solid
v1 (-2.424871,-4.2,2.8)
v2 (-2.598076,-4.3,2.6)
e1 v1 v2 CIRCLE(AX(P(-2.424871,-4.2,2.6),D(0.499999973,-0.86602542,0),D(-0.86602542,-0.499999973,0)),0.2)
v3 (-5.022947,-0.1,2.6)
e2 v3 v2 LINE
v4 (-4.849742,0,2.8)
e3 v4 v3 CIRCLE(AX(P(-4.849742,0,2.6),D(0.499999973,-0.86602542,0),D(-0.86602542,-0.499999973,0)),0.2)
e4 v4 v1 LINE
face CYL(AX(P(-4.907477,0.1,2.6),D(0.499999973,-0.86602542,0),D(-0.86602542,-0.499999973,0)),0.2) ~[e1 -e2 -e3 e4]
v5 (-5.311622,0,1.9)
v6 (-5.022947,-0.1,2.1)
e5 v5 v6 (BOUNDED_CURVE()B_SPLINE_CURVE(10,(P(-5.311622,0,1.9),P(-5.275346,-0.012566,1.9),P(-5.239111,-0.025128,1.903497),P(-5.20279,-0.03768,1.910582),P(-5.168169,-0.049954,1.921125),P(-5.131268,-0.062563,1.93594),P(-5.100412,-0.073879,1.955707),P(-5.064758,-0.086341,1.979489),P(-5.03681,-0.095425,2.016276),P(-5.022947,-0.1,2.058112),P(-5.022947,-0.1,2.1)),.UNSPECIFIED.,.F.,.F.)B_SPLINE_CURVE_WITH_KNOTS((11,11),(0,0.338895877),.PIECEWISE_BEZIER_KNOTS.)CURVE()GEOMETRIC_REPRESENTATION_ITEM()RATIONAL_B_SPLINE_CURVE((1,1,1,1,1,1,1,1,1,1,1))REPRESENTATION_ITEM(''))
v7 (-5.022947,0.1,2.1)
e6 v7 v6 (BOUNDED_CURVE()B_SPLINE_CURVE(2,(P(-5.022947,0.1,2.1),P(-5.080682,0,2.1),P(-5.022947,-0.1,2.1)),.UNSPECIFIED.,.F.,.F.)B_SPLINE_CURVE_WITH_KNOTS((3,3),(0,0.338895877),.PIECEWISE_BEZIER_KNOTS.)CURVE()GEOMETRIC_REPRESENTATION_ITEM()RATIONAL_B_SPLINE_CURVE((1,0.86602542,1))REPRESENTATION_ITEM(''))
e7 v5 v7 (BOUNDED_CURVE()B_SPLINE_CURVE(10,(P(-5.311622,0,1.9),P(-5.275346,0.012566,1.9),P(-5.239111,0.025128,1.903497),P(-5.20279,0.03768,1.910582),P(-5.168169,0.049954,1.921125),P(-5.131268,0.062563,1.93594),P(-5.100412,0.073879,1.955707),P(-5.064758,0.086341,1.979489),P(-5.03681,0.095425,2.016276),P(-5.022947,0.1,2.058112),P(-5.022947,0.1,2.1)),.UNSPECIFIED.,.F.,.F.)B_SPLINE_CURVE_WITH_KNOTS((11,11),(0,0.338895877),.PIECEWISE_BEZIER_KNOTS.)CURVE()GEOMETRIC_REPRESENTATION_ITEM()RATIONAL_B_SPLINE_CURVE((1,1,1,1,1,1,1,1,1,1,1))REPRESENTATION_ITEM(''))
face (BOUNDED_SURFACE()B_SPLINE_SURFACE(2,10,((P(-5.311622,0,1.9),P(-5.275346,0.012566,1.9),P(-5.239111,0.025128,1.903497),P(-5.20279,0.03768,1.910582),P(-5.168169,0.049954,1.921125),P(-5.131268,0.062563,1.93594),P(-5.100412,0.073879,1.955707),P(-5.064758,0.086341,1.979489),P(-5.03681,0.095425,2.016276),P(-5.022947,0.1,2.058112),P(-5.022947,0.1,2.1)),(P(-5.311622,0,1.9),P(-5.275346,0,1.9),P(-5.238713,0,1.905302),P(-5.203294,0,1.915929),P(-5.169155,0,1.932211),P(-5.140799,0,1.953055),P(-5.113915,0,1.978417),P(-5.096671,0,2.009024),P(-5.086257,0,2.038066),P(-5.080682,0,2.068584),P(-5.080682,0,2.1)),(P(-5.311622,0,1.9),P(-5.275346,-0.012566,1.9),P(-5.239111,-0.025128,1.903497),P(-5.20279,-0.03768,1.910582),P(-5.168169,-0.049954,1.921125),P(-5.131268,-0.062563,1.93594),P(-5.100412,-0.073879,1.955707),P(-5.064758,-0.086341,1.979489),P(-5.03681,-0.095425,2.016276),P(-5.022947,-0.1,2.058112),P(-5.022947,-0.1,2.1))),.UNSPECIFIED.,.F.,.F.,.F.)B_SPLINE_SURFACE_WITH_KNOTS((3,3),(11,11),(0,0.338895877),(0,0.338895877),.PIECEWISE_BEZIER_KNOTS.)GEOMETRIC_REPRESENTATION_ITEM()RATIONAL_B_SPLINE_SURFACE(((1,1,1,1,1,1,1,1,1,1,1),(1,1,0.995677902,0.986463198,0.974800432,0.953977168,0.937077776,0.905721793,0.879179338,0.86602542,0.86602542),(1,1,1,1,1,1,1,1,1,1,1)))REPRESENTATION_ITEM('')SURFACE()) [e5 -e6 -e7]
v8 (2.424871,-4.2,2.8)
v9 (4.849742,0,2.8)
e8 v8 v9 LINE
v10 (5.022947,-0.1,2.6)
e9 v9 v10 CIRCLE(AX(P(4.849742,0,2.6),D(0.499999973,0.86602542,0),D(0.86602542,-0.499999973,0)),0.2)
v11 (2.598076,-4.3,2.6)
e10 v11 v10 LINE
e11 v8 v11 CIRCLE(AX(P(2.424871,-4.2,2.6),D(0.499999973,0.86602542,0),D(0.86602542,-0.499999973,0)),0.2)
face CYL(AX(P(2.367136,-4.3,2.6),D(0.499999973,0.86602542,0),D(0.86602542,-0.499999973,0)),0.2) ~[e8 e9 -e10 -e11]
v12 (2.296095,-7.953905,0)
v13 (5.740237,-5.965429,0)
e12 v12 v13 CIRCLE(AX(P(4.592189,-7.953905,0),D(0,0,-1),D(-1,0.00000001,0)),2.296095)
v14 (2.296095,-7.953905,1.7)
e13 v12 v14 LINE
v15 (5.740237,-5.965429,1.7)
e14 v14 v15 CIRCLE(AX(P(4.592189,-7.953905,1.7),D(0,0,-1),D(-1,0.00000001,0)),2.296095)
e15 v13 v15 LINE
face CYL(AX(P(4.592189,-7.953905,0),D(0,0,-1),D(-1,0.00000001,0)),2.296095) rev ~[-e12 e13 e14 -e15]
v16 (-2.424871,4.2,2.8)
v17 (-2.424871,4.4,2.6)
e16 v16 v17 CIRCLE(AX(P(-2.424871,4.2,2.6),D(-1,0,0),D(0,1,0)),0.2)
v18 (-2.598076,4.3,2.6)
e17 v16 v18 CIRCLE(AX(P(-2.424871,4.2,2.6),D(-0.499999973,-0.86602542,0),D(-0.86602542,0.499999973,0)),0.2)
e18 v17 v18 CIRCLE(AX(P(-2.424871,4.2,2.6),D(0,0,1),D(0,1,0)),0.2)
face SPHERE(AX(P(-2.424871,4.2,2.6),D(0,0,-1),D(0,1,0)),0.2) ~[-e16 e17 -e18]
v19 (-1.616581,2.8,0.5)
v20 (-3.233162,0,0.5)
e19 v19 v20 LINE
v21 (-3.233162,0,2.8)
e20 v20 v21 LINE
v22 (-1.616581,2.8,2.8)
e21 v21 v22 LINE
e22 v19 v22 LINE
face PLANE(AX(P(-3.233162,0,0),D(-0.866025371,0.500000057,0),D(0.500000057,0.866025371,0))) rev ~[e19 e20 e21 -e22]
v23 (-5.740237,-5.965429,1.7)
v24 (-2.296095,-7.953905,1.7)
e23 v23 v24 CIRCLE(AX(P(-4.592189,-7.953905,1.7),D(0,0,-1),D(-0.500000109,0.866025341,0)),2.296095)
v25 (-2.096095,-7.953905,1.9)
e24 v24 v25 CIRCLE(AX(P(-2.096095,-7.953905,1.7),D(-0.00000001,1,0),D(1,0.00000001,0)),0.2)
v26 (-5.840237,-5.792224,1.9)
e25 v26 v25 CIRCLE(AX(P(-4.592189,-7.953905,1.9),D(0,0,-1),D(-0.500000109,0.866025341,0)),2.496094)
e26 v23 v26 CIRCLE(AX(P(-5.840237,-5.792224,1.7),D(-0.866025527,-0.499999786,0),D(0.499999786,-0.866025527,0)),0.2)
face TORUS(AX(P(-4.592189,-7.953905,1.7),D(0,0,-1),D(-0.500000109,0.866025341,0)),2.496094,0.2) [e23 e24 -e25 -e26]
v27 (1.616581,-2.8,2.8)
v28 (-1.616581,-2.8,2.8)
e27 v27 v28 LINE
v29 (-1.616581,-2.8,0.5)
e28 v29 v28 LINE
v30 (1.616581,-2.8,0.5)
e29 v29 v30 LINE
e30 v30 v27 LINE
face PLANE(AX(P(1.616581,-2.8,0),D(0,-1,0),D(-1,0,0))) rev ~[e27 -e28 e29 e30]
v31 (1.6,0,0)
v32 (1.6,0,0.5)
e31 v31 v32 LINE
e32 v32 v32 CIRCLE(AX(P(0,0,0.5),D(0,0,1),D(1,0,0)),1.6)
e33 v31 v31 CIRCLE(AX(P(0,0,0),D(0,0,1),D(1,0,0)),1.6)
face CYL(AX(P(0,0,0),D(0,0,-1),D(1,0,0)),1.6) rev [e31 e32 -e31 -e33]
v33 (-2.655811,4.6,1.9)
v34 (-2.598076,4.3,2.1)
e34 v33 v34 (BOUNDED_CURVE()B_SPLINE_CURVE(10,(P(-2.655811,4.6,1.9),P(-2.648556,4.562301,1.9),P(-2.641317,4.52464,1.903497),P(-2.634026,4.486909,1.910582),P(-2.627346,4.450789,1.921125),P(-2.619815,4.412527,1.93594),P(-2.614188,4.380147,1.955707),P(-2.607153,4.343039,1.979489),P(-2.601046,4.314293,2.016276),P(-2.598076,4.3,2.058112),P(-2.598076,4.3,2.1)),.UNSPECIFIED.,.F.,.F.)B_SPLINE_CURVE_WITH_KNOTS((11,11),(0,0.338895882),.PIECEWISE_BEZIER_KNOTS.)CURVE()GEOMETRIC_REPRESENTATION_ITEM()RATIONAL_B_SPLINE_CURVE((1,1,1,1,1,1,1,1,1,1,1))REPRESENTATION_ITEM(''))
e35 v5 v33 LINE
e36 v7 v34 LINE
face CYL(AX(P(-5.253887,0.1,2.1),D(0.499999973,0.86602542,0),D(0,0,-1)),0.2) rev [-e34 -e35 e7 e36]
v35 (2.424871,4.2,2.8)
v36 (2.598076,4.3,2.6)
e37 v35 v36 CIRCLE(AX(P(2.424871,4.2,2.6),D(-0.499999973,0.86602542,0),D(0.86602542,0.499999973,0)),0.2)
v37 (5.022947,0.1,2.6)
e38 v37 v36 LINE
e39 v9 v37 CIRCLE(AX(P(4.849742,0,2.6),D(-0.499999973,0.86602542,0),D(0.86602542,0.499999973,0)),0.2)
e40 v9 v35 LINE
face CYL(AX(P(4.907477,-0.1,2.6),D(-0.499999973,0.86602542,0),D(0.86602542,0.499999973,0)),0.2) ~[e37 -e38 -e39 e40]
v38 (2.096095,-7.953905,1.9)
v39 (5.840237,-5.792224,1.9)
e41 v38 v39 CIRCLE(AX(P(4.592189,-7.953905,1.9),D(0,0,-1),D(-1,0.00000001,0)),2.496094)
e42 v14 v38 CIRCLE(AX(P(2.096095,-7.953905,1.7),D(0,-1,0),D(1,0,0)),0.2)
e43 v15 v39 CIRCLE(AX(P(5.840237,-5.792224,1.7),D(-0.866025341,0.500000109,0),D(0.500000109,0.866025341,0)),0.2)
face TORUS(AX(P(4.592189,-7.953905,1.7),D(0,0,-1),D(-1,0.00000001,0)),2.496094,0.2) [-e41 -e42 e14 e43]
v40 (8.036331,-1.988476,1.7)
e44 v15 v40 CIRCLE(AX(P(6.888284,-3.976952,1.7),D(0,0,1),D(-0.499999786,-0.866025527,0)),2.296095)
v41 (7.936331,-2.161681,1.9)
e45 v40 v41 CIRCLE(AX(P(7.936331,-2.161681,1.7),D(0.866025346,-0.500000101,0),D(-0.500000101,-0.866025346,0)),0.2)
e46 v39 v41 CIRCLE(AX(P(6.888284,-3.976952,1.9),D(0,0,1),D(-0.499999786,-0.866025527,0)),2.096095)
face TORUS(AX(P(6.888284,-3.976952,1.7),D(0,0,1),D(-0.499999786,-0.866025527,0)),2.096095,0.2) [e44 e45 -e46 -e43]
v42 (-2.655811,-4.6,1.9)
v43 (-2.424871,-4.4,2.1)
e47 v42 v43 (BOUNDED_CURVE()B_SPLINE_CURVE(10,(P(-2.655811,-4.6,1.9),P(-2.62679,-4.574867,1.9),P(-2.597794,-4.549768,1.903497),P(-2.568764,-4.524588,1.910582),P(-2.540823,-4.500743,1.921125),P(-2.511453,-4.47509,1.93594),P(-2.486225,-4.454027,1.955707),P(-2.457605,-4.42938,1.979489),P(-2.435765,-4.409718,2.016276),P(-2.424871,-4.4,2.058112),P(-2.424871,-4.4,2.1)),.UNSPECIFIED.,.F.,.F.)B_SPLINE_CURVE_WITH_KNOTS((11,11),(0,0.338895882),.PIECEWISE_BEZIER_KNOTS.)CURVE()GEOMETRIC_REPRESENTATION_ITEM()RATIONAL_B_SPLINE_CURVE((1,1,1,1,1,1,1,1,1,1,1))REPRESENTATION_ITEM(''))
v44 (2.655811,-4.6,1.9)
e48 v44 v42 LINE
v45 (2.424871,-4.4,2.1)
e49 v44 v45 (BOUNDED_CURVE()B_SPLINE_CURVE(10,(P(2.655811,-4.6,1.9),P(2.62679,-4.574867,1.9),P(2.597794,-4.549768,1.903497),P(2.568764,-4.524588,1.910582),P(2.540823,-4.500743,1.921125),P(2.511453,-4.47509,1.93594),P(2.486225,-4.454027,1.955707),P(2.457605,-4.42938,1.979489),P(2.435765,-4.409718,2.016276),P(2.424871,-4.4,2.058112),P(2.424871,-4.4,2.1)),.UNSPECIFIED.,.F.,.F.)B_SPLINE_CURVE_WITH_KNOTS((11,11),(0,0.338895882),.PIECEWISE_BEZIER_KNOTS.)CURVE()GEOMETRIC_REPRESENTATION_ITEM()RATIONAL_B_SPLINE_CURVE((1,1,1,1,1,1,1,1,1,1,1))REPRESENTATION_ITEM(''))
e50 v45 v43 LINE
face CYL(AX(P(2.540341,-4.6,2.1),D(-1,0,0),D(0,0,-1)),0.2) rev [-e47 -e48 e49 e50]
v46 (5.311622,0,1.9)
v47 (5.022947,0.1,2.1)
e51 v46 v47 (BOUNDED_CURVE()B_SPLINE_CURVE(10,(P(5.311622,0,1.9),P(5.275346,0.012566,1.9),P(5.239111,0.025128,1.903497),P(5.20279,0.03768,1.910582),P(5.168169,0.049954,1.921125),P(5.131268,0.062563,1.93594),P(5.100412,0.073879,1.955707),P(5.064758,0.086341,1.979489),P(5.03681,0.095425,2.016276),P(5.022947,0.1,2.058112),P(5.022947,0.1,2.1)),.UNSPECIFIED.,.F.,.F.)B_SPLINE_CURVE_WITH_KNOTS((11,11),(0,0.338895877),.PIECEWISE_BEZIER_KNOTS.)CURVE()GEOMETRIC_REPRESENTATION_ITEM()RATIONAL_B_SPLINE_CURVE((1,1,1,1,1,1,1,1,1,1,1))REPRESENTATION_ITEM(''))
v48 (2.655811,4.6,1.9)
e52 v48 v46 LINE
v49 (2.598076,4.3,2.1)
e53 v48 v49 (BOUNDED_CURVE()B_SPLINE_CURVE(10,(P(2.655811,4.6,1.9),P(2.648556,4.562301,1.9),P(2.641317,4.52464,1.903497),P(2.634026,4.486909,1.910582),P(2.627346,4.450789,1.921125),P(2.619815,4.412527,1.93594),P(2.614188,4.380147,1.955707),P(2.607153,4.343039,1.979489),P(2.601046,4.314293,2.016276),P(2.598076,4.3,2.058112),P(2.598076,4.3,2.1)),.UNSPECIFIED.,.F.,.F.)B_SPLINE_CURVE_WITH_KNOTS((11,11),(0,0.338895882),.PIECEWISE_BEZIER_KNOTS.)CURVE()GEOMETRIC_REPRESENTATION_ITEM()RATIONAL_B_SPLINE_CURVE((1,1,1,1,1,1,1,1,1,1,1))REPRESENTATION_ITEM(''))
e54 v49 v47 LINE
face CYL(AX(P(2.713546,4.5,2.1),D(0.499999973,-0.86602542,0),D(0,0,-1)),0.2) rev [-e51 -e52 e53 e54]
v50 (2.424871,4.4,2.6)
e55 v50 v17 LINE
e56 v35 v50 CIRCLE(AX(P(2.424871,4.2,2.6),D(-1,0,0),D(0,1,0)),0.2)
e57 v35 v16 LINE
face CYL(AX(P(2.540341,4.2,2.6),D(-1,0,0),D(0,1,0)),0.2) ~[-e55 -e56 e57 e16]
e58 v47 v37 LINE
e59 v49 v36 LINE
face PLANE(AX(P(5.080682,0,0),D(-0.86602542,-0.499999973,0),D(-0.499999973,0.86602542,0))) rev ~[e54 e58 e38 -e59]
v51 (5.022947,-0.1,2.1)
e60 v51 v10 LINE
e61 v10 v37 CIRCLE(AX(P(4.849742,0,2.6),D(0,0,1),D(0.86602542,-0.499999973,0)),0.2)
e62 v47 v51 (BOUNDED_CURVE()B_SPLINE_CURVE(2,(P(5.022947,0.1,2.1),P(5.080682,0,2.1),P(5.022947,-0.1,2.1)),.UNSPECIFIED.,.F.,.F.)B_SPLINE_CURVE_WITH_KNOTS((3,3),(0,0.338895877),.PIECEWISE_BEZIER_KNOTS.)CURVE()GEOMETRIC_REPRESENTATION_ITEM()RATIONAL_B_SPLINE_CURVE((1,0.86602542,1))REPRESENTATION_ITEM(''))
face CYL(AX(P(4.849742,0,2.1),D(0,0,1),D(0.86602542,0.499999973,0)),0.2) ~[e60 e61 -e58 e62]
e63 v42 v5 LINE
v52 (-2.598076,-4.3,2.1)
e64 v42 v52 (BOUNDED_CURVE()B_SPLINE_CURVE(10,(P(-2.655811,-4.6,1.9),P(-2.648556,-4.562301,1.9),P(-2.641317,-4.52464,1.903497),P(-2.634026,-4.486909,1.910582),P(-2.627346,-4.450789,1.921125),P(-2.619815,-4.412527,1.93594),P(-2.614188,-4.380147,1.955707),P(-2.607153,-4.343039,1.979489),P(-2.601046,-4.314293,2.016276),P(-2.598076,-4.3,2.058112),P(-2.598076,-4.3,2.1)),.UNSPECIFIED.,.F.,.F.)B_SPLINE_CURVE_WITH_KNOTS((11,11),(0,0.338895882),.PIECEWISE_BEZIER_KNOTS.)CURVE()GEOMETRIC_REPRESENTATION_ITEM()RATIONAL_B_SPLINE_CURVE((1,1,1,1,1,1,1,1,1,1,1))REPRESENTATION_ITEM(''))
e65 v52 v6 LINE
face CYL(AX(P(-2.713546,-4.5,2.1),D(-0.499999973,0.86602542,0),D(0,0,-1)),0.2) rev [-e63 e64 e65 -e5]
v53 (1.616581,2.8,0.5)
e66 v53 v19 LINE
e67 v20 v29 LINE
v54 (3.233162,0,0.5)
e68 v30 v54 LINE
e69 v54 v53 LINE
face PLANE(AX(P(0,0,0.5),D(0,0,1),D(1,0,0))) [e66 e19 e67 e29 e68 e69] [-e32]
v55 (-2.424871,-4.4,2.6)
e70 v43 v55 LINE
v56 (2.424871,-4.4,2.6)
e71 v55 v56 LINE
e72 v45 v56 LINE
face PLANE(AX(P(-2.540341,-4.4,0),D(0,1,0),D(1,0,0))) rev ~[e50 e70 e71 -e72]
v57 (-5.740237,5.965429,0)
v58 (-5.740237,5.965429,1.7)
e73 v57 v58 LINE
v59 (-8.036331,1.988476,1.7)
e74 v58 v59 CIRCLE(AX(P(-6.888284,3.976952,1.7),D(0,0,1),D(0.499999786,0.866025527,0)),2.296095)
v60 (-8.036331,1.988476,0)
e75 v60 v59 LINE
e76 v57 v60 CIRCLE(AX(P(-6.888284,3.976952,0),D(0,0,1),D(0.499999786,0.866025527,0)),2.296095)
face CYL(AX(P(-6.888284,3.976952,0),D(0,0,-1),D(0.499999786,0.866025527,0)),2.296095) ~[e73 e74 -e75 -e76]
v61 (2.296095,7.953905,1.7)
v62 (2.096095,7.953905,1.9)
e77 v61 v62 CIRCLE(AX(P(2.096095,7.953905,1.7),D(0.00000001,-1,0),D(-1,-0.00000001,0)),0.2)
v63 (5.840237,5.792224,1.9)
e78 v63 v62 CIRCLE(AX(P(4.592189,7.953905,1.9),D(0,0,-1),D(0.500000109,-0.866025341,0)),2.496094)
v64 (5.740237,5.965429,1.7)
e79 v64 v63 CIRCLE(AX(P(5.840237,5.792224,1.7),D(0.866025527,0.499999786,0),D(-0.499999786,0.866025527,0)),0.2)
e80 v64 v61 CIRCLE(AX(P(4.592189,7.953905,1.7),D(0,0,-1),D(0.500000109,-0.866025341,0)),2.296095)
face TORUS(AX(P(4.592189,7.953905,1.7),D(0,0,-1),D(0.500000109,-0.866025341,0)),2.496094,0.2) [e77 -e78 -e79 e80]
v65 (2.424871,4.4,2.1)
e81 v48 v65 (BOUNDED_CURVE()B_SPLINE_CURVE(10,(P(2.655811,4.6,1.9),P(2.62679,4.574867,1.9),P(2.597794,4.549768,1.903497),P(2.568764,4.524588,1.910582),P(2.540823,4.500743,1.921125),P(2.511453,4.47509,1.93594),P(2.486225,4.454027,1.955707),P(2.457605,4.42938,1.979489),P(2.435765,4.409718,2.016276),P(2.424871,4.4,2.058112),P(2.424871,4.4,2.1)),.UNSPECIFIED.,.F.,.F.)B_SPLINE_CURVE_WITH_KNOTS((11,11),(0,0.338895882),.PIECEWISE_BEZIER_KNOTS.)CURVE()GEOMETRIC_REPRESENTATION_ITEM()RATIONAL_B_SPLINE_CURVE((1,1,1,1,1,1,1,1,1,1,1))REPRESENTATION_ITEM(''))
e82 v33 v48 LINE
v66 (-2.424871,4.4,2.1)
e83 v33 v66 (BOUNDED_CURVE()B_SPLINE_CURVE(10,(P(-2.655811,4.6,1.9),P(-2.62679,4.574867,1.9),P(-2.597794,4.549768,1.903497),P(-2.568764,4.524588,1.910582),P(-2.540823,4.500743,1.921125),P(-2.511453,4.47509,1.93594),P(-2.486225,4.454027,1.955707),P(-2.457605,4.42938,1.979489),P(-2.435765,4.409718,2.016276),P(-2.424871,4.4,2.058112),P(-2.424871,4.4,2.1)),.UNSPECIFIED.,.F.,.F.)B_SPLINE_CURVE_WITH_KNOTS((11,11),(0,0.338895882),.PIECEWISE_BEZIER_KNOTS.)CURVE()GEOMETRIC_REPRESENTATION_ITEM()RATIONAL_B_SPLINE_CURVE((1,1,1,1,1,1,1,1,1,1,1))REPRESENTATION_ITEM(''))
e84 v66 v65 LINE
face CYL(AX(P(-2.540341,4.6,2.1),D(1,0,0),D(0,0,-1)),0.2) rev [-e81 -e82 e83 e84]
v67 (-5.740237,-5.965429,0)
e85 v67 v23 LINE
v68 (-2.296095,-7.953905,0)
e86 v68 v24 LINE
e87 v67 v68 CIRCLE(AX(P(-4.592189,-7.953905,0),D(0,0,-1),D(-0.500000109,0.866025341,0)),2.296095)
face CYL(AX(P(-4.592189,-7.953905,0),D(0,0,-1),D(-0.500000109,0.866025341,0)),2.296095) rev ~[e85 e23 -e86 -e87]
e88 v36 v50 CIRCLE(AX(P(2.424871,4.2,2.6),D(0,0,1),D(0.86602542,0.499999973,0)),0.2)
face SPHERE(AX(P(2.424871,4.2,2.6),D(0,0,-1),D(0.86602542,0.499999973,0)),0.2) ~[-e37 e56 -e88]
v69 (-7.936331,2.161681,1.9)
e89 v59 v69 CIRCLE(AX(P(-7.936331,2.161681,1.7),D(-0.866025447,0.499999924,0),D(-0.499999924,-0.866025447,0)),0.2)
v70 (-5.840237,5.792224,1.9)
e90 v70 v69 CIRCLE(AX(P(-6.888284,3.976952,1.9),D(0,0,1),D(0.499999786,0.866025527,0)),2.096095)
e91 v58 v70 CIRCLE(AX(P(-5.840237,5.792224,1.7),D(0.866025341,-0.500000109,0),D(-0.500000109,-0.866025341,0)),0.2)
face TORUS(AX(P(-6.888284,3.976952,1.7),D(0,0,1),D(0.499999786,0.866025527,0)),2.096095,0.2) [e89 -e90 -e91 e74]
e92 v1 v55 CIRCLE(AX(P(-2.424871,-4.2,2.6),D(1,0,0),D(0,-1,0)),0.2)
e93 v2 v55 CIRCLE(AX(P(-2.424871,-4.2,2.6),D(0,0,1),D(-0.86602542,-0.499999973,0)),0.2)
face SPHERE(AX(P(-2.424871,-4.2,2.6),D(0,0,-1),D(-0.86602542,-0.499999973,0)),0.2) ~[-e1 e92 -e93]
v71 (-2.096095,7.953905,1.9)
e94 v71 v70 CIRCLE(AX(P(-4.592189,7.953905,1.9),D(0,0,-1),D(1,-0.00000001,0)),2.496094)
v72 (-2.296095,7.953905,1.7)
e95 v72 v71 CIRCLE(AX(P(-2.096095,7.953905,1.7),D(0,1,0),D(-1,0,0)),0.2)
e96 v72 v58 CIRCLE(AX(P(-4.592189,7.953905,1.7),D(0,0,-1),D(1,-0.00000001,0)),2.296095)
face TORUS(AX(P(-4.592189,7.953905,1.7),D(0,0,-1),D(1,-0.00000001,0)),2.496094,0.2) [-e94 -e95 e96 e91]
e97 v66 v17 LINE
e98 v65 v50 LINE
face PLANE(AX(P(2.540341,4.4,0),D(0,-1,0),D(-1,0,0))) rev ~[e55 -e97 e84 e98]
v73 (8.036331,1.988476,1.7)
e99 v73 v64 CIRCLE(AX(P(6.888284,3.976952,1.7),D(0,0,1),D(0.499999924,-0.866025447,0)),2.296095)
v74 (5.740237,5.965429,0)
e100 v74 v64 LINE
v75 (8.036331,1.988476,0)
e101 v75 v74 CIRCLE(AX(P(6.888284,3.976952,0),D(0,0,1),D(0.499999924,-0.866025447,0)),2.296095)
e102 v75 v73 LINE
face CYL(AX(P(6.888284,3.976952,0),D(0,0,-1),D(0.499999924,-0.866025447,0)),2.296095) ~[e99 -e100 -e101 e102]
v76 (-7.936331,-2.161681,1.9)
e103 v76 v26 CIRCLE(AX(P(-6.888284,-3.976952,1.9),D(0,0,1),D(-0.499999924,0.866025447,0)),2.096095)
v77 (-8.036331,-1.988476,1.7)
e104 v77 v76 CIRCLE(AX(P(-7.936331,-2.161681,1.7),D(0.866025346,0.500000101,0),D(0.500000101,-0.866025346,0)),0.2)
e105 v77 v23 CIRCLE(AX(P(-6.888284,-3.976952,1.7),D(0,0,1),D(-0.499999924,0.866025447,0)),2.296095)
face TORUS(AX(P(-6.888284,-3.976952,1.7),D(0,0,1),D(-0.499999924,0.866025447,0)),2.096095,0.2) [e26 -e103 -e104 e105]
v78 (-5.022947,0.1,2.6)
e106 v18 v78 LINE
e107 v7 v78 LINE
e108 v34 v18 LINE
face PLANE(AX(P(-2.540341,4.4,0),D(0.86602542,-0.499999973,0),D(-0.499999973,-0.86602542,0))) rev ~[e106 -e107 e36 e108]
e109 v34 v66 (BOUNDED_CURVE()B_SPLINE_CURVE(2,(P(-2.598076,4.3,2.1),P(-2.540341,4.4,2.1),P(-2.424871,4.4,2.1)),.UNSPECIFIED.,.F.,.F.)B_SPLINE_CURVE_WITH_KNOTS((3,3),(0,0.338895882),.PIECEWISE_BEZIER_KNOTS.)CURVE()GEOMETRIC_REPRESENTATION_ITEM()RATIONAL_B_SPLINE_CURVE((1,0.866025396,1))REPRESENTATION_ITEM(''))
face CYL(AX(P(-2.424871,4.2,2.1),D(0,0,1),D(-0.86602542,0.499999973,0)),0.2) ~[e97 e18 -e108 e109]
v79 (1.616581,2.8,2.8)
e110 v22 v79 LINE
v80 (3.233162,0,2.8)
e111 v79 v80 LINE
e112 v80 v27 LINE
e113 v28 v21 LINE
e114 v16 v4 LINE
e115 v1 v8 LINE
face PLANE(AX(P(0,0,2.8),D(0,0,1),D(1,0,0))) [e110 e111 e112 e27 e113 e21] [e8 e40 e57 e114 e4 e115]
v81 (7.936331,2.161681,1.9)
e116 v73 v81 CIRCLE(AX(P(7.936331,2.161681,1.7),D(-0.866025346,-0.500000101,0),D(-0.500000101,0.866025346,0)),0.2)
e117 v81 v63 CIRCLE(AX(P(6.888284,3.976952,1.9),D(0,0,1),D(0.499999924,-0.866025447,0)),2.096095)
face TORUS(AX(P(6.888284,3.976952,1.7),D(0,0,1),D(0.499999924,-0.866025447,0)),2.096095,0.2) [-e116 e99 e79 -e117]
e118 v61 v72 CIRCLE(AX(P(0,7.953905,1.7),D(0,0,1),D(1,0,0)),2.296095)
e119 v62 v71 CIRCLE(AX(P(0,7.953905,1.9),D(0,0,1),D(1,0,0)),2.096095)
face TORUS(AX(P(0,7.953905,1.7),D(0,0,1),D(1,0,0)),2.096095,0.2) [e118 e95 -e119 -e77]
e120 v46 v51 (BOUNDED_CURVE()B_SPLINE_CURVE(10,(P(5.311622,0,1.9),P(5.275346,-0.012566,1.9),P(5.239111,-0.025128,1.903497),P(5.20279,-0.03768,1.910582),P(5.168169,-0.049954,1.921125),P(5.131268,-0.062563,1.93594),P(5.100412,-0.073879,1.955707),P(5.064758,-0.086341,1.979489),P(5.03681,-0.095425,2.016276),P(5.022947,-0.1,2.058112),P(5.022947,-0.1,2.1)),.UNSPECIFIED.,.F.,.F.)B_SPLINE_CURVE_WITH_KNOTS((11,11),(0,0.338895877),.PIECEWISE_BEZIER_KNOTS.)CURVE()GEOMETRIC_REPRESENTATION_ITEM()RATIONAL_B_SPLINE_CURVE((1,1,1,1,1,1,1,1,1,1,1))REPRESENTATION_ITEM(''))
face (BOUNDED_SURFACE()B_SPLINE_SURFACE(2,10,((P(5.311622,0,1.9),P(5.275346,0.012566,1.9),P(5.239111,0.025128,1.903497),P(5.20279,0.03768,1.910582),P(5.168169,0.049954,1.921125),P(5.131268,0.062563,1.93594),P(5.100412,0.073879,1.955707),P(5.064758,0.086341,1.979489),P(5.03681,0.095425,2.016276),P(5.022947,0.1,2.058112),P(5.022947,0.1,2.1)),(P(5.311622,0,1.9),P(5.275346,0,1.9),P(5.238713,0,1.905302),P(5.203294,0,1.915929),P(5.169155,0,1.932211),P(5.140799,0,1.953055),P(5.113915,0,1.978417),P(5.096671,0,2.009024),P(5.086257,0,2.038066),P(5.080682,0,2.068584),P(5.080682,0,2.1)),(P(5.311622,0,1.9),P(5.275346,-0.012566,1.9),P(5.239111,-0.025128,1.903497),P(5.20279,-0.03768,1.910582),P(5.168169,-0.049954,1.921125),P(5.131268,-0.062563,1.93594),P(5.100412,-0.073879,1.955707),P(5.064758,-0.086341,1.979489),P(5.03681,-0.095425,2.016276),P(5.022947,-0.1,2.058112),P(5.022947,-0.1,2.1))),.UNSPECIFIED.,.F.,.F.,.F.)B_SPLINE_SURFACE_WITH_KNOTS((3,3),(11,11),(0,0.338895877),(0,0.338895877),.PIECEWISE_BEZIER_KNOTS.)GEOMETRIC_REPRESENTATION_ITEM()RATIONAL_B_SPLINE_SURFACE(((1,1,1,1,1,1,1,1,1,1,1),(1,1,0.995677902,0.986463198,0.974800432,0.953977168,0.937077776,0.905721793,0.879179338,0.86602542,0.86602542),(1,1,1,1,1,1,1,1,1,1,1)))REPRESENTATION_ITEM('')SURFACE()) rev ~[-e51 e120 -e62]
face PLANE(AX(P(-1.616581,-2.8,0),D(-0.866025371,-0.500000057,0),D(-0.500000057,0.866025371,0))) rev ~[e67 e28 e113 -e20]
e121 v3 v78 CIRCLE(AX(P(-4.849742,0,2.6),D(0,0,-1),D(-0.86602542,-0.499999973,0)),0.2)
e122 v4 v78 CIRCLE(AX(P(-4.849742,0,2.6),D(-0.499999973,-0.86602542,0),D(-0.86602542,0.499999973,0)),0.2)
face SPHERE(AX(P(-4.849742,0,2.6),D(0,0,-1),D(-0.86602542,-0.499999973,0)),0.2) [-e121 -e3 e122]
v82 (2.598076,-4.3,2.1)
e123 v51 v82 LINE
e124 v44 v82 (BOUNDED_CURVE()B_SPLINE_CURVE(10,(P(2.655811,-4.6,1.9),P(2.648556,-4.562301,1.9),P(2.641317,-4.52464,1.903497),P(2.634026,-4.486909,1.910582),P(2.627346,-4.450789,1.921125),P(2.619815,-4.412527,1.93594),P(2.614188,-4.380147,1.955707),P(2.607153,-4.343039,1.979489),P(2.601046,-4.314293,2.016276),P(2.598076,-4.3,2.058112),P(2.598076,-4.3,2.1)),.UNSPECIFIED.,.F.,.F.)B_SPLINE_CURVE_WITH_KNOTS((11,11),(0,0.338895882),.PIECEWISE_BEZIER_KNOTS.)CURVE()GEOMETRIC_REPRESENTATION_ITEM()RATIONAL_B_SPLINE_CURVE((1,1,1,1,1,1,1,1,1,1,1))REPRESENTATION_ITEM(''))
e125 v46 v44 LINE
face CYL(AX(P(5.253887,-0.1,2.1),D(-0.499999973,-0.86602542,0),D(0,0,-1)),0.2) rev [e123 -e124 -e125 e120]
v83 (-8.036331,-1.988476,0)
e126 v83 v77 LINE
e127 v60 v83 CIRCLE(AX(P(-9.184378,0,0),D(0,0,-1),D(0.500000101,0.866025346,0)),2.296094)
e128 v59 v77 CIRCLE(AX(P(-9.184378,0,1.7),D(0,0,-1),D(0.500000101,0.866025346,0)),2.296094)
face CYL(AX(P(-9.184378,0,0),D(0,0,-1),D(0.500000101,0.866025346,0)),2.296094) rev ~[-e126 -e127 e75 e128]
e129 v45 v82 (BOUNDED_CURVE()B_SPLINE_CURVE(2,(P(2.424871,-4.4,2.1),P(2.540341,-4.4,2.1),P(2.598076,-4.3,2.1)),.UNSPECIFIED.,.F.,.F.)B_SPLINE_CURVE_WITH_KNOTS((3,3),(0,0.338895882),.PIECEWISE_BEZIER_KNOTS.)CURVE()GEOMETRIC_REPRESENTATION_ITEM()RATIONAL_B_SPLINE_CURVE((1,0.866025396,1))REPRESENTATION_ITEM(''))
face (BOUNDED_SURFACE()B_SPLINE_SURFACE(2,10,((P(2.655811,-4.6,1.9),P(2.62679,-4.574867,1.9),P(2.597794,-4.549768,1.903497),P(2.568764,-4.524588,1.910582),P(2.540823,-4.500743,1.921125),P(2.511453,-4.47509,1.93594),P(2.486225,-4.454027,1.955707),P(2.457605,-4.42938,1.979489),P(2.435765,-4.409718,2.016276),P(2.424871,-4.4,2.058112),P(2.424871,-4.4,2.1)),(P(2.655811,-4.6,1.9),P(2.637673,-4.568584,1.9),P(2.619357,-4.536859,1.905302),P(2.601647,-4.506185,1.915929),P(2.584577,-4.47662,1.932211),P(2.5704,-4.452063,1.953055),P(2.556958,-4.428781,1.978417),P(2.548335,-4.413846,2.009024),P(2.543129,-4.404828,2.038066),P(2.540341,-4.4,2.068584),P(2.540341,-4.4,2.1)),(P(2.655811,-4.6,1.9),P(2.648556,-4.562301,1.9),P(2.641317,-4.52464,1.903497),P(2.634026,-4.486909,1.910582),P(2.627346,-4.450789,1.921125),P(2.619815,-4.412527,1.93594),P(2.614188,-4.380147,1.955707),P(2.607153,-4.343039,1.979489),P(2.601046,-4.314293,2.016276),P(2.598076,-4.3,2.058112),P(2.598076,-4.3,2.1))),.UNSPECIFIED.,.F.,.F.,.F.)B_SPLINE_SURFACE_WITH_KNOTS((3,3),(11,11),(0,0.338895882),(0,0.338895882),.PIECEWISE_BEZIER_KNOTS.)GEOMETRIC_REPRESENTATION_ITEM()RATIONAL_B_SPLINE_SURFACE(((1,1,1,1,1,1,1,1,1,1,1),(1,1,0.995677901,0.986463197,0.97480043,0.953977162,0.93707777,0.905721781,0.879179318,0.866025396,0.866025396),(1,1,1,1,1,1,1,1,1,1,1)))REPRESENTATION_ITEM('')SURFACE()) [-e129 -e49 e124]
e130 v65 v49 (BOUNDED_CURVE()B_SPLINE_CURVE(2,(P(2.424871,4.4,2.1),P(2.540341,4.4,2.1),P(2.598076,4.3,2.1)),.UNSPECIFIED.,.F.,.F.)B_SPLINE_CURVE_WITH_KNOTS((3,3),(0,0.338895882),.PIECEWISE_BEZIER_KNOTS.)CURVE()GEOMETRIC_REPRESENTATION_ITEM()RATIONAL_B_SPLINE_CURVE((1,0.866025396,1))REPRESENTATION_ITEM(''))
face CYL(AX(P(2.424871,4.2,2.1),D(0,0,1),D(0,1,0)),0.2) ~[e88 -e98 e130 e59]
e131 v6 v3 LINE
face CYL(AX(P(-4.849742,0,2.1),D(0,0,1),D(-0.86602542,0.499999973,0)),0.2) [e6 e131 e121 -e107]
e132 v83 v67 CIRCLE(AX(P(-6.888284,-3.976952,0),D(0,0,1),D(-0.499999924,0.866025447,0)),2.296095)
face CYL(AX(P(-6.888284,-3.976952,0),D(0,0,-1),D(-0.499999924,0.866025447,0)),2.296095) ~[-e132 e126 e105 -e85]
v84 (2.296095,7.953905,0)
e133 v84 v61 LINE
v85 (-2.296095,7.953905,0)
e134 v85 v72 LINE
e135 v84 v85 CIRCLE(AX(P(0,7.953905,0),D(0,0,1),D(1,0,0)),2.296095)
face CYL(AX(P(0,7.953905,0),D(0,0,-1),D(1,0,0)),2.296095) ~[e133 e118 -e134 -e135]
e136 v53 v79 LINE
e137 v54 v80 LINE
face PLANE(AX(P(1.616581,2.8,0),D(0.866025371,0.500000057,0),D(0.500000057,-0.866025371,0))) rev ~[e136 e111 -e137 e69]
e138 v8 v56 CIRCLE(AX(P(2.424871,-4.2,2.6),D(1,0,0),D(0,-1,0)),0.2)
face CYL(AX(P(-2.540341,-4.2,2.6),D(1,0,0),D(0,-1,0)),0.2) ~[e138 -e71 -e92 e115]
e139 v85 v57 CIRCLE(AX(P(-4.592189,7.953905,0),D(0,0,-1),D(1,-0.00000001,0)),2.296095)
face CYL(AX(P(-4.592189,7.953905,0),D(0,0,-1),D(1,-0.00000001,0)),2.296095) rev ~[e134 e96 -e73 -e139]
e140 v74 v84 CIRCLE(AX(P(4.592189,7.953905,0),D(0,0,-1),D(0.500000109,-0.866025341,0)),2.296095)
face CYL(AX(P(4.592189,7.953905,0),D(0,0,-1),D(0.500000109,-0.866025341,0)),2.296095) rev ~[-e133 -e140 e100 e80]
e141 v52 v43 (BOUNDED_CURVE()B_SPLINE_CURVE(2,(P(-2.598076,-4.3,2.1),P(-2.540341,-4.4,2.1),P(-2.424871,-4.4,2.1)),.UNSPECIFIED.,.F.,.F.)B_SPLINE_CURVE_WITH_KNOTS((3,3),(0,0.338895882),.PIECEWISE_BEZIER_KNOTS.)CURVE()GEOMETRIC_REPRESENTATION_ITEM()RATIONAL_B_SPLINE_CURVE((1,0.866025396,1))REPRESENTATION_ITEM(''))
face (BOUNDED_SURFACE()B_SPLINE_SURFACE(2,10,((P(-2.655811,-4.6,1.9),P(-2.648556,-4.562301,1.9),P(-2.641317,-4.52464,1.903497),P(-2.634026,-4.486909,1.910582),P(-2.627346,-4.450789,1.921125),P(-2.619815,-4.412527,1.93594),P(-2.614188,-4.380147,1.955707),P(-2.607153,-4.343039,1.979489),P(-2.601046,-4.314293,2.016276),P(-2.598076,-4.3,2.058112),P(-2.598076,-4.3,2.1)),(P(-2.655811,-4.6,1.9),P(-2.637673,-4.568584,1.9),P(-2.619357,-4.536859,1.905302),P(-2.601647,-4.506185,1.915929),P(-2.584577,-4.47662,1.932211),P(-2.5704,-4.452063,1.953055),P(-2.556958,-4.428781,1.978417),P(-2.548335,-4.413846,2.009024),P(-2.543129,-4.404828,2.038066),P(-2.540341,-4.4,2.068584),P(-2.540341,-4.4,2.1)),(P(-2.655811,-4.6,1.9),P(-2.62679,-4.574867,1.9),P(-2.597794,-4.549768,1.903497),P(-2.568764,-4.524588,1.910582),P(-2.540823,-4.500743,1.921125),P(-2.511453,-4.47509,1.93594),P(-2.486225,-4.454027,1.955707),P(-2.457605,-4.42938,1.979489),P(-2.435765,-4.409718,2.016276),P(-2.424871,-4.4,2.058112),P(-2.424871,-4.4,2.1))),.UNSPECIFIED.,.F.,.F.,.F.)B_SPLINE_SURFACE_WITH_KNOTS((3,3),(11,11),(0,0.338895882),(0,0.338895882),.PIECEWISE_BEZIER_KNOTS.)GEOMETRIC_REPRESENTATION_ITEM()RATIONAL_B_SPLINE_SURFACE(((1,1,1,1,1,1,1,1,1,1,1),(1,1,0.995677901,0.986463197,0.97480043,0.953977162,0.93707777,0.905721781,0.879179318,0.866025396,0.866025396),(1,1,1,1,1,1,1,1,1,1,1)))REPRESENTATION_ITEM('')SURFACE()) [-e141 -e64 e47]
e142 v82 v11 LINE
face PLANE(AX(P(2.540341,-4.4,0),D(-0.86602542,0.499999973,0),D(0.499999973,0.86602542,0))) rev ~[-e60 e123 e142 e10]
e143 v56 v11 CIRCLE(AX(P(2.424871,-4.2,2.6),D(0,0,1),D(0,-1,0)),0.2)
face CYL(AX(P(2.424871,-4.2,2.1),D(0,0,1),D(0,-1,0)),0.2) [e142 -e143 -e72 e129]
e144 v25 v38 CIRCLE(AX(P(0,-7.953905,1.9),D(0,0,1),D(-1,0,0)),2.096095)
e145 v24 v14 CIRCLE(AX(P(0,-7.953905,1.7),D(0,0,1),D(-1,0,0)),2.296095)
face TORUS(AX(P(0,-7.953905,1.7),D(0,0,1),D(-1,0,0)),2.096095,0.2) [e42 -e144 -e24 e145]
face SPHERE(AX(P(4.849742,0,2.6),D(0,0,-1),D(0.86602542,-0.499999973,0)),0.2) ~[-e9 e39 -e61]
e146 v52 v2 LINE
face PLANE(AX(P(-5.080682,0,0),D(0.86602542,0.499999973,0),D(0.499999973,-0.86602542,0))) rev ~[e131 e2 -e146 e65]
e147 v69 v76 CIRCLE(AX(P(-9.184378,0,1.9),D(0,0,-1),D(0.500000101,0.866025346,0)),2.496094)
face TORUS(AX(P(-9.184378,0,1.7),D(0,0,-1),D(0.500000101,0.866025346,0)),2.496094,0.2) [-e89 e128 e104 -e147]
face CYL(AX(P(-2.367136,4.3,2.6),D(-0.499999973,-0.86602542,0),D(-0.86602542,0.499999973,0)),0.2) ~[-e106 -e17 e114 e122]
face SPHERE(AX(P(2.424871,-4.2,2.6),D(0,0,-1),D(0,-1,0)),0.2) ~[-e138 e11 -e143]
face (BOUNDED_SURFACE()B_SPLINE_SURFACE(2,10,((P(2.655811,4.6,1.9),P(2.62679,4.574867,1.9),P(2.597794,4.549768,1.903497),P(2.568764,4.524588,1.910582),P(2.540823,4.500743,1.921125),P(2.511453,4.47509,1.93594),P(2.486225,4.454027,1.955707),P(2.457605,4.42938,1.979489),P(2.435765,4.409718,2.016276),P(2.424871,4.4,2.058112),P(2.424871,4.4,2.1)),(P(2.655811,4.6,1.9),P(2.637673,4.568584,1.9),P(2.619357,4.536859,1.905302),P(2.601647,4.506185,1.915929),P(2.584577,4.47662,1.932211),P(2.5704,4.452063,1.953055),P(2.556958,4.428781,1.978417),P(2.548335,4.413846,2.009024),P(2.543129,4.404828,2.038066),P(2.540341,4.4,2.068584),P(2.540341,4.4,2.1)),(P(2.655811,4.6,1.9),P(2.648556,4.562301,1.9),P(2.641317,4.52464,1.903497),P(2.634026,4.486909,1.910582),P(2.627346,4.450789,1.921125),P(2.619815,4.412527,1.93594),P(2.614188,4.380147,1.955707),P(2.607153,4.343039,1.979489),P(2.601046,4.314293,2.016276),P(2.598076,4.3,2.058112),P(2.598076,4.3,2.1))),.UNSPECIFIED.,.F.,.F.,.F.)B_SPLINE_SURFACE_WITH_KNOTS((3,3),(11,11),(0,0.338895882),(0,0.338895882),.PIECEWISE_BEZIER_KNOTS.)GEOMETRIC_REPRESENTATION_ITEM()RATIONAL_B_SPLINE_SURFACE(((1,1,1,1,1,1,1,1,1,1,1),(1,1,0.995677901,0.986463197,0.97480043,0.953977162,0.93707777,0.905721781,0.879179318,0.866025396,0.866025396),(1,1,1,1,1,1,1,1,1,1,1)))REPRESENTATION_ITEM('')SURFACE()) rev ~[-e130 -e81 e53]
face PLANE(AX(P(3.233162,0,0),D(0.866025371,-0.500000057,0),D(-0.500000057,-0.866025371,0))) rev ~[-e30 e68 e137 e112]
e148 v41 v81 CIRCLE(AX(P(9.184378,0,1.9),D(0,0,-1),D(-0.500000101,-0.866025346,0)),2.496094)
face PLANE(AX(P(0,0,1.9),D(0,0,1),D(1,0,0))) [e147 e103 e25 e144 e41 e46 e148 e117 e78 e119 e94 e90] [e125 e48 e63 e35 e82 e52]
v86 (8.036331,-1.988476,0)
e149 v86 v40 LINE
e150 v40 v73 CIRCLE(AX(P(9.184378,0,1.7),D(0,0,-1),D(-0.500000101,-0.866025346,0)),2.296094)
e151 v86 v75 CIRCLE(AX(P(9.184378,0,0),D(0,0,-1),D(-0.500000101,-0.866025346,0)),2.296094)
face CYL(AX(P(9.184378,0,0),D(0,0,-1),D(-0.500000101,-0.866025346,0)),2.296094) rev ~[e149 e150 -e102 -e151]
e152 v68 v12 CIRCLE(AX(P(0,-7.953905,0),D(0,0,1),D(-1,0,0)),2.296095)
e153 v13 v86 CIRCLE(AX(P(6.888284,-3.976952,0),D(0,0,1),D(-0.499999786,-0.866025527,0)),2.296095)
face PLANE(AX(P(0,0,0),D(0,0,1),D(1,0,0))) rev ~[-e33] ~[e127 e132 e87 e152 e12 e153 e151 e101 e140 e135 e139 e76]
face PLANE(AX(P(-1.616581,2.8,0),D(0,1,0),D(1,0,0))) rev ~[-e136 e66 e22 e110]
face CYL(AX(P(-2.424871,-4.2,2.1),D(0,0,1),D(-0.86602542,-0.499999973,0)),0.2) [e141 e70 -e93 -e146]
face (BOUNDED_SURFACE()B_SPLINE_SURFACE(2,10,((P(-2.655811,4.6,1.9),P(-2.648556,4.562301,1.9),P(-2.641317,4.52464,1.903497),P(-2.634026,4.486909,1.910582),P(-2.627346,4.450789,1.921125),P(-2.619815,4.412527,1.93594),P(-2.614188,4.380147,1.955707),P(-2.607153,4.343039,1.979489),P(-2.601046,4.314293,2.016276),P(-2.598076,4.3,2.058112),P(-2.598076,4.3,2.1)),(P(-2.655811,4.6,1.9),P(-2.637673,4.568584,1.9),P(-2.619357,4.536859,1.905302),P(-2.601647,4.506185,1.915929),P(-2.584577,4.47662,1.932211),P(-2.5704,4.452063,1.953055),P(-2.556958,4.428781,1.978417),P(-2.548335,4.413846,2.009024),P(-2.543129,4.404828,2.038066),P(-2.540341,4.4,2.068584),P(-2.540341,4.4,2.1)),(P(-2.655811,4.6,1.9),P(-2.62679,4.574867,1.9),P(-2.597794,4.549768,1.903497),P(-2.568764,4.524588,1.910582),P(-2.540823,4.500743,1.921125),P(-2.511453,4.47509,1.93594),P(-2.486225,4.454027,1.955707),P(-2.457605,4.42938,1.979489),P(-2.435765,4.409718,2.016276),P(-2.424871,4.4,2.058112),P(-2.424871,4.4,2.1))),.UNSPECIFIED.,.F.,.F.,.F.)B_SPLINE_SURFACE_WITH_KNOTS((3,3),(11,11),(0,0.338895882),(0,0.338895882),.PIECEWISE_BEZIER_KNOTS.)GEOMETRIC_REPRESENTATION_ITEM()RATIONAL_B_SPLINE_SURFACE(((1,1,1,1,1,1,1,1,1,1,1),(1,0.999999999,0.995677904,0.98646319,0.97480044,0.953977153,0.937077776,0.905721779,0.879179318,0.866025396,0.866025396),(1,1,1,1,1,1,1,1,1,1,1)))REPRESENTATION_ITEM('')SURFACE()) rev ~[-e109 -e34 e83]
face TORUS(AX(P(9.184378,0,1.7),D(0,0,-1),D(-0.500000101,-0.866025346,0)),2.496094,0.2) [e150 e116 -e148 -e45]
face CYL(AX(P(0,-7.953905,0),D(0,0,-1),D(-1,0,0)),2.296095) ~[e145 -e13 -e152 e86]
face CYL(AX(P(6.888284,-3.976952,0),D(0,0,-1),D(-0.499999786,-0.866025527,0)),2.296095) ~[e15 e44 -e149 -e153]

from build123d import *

# Parameters (mm, degrees)
F1_DEPTH = 1.9
F2_DEPTH = 2.8
F0_R     = 1.6
F3_DEPTH = 0.5
F4_R     = 0.2
F5_R     = 0.2


with BuildPart() as f1:
    # F0 (on Top) → F1 (new body)
    with BuildSketch(Plane.XY):
        with BuildLine():
            ThreePointArc((5.740237, 5.965429), (3.444142, 5.965429), (2.296095, 7.953905))
            ThreePointArc((2.296095, 7.953905), (0, 10.25), (-2.296095, 7.953905))
            ThreePointArc((-2.296095, 7.953905), (-3.444142, 5.965429), (-5.740237, 5.965429))
            ThreePointArc((-5.740237, 5.965429), (-8.87676, 5.125), (-8.036331, 1.988476))
            ThreePointArc((-8.036331, 1.988476), (-6.888284, 0), (-8.036331, -1.988476))
            ThreePointArc((-8.036331, -1.988476), (-8.87676, -5.125), (-5.740237, -5.965429))
            ThreePointArc((-5.740237, -5.965429), (-3.444142, -5.965429), (-2.296095, -7.953905))
            ThreePointArc((-2.296095, -7.953905), (0, -10.25), (2.296095, -7.953905))
            ThreePointArc((2.296095, -7.953905), (3.444142, -5.965429), (5.740237, -5.965429))
            ThreePointArc((5.740237, -5.965429), (8.87676, -5.125), (8.036331, -1.988476))
            ThreePointArc((8.036331, -1.988476), (6.888284, 0), (8.036331, 1.988476))
            ThreePointArc((8.036331, 1.988476), (8.87676, 5.125), (5.740237, 5.965429))
        make_face()
        Polygon((-2.540341, 4.4), (2.540341, 4.4), (5.080682, 0), (2.540341, -4.4), (-2.540341, -4.4), (-5.080682, 0), align=None, mode=Mode.SUBTRACT)
    extrude(amount=F1_DEPTH)

    # F0 (on Top) → F2 (join)
    with BuildSketch(Plane.XY):
        Polygon((5.080682, 0), (2.540341, 4.4), (-2.540341, 4.4), (-5.080682, 0), (-2.540341, -4.4), (2.540341, -4.4), align=None)
        Polygon((-1.616581, 2.8), (1.616581, 2.8), (3.233162, 0), (1.616581, -2.8), (-1.616581, -2.8), (-3.233162, 0), align=None, mode=Mode.SUBTRACT)
    extrude(amount=F2_DEPTH)

    # F0 (on Top) → F3 (join)
    with BuildSketch(Plane.XY):
        Polygon((3.233162, 0), (1.616581, 2.8), (-1.616581, 2.8), (-3.233162, 0), (-1.616581, -2.8), (1.616581, -2.8), align=None)
        Circle(F0_R, mode=Mode.SUBTRACT)
    extrude(amount=F3_DEPTH)

    # F4
    f4_edges = [f1.edges().sort_by_distance(p)[0] for p in [
        (6.888284, 0, 1.9),
        (8.87676, 5.125, 1.9),
        (3.444142, 5.965429, 1.9),
        (0, 10.25, 1.9),
        (-3.444142, 5.965429, 1.9),
        (-8.87676, 5.125, 1.9),
        (-6.888284, 0, 1.9),
        (-8.87676, -5.125, 1.9),
        (-3.444142, -5.965429, 1.9),
        (0, -10.25, 1.9),
        (3.444142, -5.965429, 1.9),
        (8.87676, -5.125, 1.9),
        (-3.810512, 2.2, 1.9),
        (0, 4.4, 1.9),
        (3.810512, 2.2, 1.9),
        (3.810512, -2.2, 1.9),
        (0, -4.4, 1.9),
        (-3.810512, -2.2, 1.9),
    ]]
    fillet(f4_edges, radius=F4_R)

    # F5
    f5_edges = [f1.edges().sort_by_distance(p)[0] for p in [
        (3.810512, -2.2, 2.8),
        (2.540341, -4.4, 2.45),
        (0, -4.4, 2.8),
        (-2.540341, -4.4, 2.45),
        (-3.810512, -2.2, 2.8),
        (-3.810512, 2.2, 2.8),
        (-5.080682, 0, 2.45),
        (-2.540341, 4.4, 2.45),
        (0, 4.4, 2.8),
        (2.540341, 4.4, 2.45),
        (3.810512, 2.2, 2.8),
        (5.080682, 0, 2.45),
    ]]
    fillet(f5_edges, radius=F5_R)


solid = f1.part
